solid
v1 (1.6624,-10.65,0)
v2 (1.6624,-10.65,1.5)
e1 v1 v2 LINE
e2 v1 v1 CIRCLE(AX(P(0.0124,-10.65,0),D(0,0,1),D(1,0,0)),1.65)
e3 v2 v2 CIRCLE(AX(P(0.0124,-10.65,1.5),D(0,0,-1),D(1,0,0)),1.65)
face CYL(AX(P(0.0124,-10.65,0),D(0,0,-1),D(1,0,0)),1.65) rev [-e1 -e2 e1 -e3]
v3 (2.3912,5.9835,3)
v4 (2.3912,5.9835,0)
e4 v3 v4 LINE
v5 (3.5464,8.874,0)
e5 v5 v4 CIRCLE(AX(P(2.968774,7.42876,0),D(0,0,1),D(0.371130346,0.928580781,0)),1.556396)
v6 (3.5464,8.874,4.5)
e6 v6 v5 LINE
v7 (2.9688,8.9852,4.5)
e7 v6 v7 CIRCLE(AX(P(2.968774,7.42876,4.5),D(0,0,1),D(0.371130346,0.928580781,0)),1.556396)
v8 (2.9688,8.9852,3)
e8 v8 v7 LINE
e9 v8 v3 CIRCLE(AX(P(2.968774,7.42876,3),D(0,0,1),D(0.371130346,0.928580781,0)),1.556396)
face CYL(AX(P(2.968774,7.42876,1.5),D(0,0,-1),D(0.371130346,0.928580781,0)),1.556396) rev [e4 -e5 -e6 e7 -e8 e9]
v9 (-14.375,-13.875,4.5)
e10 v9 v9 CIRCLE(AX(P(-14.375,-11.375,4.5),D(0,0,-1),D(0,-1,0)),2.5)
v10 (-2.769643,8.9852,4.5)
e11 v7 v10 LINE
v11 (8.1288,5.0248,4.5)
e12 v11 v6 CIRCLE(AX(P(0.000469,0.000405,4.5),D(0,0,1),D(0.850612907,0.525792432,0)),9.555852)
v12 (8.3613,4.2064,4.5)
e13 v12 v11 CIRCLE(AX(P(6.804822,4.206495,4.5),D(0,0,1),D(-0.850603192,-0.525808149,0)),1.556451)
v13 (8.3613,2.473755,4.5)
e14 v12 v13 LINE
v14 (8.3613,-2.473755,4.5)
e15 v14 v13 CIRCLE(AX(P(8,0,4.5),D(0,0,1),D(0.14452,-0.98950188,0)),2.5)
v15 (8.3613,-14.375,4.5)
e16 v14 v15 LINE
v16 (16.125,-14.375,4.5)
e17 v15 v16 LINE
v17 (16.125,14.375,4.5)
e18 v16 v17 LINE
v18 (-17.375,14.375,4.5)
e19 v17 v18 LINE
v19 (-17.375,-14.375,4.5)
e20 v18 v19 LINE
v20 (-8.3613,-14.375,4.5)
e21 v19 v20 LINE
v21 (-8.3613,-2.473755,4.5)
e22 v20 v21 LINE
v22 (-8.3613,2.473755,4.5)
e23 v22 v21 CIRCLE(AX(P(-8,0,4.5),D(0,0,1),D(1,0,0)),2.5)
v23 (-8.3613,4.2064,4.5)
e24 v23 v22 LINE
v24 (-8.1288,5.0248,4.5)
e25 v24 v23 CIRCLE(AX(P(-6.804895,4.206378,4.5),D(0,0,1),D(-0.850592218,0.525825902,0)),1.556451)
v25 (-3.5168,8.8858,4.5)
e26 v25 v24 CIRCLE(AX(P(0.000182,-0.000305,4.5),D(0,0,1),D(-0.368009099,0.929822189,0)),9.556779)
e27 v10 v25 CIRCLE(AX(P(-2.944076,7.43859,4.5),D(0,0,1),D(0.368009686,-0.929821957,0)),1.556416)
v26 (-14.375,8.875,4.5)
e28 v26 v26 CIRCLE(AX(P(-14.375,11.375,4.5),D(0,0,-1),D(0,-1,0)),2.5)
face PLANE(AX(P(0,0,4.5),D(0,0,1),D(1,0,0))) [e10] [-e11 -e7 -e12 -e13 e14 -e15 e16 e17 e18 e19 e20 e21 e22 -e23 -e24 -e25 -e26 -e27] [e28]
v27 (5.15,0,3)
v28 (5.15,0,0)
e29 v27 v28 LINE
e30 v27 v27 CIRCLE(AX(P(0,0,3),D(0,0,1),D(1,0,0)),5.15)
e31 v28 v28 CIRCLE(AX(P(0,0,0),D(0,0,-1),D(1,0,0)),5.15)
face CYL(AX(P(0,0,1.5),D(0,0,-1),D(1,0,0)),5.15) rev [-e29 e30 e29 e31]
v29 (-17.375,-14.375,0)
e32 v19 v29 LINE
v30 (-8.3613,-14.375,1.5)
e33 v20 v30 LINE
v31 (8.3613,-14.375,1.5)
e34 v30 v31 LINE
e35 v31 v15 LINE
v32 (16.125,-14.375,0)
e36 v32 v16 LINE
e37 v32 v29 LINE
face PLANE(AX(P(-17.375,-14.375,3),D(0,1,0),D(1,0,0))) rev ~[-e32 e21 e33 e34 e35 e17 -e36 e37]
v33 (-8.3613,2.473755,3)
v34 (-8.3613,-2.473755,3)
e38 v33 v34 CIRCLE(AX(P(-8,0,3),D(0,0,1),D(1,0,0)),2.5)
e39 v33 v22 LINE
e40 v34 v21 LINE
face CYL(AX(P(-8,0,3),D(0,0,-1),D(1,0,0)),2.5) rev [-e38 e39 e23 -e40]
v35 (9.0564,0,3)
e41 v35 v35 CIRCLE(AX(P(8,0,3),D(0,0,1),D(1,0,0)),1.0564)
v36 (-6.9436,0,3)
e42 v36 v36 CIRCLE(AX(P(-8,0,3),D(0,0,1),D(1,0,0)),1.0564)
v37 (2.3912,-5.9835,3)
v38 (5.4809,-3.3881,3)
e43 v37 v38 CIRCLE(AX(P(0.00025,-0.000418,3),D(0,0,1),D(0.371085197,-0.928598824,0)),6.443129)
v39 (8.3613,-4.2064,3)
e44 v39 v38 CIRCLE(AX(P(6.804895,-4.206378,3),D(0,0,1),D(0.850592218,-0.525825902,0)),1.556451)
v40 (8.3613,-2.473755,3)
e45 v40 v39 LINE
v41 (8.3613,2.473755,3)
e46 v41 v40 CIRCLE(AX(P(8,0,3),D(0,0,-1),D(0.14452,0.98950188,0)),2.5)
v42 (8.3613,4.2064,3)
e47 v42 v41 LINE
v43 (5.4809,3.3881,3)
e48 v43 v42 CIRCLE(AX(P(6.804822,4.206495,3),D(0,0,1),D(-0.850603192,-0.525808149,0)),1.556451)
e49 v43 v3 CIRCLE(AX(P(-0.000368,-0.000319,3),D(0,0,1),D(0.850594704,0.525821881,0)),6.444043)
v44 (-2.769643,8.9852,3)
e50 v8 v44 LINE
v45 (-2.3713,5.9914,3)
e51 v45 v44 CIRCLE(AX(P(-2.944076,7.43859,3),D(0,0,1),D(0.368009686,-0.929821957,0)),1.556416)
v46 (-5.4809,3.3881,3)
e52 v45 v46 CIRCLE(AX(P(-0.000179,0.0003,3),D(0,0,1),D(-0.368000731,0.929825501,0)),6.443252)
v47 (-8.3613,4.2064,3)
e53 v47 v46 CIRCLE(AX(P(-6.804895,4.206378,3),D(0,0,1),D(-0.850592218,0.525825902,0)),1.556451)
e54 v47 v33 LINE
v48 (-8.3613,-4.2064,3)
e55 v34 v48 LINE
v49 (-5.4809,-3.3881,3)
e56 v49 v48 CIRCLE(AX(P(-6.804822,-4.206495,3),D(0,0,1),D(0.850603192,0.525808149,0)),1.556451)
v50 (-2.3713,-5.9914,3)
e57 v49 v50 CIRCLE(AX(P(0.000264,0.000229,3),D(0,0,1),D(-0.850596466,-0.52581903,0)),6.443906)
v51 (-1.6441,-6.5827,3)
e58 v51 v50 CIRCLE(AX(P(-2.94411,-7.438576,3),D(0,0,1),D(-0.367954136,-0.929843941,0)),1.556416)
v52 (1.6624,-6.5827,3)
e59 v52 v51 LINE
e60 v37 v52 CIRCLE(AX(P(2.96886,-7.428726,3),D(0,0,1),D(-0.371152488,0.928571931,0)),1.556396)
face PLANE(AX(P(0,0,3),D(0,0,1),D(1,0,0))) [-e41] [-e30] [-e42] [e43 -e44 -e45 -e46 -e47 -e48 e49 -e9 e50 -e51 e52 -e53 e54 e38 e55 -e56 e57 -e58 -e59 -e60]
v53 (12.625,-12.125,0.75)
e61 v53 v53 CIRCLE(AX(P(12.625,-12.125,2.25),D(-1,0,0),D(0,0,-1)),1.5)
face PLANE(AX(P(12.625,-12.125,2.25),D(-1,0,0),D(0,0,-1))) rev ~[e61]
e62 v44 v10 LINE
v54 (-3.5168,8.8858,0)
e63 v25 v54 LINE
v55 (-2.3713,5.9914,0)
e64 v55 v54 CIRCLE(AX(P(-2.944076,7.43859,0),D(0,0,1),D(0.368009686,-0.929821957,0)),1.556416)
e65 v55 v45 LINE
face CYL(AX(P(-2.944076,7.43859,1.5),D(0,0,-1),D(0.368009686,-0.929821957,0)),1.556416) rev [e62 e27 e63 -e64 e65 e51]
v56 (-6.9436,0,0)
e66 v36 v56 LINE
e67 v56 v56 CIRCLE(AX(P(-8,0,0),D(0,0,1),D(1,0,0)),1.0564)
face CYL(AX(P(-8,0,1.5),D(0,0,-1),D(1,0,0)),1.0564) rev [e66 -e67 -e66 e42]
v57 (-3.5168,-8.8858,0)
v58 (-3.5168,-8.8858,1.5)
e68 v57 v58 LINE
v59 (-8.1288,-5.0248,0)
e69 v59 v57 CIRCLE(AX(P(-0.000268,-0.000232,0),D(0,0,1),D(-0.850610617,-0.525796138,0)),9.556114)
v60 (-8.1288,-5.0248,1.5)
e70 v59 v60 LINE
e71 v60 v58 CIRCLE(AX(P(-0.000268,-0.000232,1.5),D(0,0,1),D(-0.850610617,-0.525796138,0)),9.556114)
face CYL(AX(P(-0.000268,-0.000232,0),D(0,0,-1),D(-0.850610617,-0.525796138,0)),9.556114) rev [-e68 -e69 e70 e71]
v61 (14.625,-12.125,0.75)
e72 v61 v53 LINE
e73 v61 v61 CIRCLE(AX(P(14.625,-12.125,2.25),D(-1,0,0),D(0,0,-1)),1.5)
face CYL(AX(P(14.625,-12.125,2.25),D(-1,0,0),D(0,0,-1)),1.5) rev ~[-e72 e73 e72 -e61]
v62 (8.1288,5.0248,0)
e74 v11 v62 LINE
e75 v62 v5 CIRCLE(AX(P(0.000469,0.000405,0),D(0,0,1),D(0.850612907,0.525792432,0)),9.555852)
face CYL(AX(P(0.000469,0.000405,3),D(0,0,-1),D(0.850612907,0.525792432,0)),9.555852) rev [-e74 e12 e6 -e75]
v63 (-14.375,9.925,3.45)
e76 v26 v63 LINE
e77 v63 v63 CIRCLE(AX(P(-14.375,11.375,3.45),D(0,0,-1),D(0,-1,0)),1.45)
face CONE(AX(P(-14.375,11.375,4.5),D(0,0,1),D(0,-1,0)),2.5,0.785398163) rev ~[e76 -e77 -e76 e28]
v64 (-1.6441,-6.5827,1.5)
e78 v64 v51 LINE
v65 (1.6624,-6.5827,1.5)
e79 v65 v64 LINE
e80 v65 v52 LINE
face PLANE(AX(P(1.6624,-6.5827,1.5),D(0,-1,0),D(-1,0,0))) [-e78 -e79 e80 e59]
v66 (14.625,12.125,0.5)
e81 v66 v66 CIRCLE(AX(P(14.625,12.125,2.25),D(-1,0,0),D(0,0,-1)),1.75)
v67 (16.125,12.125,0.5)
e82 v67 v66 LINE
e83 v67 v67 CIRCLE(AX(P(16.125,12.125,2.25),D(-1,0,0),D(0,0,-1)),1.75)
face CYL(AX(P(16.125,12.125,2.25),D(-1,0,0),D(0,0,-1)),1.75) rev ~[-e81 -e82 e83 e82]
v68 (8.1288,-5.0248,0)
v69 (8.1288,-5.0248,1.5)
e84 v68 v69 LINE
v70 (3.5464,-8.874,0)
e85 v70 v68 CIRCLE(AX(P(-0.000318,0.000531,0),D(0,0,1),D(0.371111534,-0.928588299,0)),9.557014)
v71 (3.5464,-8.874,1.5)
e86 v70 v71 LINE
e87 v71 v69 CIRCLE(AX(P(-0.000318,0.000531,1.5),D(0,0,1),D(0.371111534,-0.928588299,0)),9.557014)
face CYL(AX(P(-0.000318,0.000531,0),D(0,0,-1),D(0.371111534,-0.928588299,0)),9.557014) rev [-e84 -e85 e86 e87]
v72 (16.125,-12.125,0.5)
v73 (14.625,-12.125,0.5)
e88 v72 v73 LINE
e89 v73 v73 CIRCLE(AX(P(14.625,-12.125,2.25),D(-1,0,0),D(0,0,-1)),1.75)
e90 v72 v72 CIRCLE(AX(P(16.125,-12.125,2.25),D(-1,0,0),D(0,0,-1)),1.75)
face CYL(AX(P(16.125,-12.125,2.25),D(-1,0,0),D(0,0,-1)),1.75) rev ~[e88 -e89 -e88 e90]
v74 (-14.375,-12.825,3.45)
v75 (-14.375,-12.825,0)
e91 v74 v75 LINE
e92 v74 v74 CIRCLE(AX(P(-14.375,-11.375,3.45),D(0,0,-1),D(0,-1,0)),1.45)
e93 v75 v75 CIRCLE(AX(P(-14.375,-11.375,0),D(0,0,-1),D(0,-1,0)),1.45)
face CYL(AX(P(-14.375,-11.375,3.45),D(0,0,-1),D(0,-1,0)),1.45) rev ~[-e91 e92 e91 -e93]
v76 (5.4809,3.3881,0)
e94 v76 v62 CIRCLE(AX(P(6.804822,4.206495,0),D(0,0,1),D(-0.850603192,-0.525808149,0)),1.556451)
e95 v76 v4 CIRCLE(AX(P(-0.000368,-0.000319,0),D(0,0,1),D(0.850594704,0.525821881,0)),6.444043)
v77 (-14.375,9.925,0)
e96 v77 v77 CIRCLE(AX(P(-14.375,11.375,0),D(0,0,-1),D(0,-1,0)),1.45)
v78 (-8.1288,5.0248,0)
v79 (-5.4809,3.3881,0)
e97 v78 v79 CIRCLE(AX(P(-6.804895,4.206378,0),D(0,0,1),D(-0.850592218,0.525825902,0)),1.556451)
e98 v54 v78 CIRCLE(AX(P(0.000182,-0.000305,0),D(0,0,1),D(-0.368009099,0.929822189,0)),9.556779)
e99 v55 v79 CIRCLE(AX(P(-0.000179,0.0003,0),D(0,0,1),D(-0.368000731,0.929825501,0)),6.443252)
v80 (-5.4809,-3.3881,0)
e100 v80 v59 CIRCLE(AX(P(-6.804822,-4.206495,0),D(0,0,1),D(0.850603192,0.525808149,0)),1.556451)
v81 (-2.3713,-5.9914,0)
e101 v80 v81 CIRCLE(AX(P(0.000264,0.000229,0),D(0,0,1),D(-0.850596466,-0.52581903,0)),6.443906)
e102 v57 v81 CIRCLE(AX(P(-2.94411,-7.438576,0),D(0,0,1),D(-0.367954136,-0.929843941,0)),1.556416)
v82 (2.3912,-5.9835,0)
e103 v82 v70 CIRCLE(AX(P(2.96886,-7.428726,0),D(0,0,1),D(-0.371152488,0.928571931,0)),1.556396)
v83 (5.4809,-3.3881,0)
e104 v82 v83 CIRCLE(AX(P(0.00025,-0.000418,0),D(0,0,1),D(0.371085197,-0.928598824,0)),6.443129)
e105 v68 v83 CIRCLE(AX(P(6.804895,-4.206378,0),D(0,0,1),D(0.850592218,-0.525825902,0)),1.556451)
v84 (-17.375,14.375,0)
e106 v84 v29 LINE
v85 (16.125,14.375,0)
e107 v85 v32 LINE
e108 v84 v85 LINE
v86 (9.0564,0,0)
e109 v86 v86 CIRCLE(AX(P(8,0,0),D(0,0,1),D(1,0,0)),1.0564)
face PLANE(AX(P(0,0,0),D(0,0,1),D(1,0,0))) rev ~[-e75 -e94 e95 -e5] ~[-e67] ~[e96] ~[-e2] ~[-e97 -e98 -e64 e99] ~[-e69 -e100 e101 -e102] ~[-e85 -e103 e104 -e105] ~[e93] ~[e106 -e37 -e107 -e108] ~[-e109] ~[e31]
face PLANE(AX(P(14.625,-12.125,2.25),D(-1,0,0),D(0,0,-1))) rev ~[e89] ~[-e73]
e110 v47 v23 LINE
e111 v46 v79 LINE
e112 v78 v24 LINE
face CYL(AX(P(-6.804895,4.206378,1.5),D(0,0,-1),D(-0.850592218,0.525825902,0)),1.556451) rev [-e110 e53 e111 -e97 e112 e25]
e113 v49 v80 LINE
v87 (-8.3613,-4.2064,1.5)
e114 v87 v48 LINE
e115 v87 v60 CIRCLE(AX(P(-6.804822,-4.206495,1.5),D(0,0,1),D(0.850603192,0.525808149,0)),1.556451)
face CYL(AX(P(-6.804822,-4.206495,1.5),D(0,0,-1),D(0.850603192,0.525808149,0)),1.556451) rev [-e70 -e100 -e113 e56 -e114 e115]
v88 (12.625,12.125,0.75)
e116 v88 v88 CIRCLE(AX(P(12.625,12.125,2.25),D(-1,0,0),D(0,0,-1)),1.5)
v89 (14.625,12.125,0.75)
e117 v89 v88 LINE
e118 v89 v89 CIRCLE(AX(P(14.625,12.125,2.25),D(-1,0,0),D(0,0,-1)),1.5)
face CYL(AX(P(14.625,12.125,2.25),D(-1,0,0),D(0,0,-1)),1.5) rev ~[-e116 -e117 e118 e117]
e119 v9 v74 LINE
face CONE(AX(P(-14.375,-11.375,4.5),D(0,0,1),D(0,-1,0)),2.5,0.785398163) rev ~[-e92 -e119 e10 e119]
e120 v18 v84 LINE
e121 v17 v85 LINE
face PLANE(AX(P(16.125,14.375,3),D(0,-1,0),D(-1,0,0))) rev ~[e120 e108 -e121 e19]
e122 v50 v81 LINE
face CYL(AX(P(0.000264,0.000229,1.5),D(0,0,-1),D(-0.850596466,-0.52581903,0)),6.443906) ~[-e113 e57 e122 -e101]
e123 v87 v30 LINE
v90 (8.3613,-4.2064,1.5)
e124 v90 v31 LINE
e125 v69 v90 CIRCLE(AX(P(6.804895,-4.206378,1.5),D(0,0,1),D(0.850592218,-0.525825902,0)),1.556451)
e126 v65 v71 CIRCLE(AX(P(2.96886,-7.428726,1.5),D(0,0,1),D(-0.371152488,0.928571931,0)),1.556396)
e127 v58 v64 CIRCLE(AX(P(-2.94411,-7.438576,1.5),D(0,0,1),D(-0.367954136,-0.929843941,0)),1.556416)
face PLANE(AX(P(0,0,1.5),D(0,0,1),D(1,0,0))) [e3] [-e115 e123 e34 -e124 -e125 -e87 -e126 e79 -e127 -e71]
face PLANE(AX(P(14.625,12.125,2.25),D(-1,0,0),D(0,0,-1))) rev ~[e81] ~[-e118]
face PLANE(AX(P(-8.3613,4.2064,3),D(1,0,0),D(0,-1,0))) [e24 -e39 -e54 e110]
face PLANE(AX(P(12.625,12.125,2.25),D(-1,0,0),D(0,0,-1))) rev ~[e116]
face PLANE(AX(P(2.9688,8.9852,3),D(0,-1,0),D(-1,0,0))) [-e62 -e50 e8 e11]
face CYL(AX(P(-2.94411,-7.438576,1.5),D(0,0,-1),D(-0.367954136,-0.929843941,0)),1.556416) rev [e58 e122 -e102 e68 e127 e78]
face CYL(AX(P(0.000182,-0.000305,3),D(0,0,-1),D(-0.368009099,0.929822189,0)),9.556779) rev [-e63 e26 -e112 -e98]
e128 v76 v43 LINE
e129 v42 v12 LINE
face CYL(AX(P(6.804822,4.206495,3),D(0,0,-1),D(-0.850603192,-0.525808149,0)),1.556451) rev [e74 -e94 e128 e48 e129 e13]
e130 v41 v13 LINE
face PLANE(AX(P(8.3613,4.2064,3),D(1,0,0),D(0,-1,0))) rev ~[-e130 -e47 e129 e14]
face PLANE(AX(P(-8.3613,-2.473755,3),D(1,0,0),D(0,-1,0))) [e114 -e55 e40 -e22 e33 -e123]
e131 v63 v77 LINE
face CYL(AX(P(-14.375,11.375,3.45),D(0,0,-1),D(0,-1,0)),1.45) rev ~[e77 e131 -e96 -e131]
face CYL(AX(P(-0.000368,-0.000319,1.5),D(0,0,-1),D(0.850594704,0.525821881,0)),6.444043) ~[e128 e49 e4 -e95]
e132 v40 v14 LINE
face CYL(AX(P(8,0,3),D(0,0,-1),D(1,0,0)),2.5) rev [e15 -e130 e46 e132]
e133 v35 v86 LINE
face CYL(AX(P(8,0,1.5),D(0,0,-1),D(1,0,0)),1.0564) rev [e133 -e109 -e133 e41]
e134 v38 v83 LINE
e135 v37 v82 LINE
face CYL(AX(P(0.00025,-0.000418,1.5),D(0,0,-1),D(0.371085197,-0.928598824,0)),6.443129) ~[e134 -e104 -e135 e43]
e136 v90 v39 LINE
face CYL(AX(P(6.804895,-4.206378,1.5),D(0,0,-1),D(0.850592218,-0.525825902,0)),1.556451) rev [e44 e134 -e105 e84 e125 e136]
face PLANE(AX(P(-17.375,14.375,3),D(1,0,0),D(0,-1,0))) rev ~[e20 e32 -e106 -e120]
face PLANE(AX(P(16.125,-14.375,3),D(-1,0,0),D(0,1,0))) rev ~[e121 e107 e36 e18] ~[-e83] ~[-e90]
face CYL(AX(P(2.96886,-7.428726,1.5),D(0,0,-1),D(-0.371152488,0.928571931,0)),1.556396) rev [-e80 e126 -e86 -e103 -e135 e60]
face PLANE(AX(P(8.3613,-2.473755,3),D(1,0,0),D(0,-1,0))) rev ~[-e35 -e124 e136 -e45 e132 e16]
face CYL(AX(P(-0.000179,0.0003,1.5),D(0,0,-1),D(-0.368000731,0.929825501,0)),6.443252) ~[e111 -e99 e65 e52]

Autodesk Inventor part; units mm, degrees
ref_plane "YZ Plane" through (0, 0, 0) normal (1, 0, 0) x (0, 1, 0)
ref_plane "XZ Plane" through (0, 0, 0) normal (0, 1, 0) x (-1, 0, 0)
ref_plane "XY Plane" through (0, 0, 0) normal (0, 0, 1) x (1, 0, 0)
ref_plane "Work Plane1" through (0, 0, 0) normal (0, 0, 1) x (1, 0, 0)
sketch "Sketch1" plane through (0, 0, 0) normal (0, 0, 1) x (1, 0, 0)
  arc A0 (5.9062, 3.651) -> (7.7035, 4.7619) centre (6.8048, 4.2064) ccw projected
  arc A1 (5.9062, 3.651) -> (2.5768, 6.4477) centre (0, 0) ccw projected
  arc A2 (3.3608, 8.4097) -> (2.5768, 6.4477) centre (2.9688, 7.4287) ccw projected
  arc A3 (7.7035, 4.7619) -> (3.3608, 8.4097) centre (0, 0) ccw projected
  arc A4 (2.5768, -6.4477) -> (3.3608, -8.4097) centre (2.9688, -7.4287) ccw projected
  arc A5 (2.5768, -6.4477) -> (5.9062, -3.651) centre (0, 0) ccw projected
  arc A6 (7.7035, -4.7619) -> (5.9062, -3.651) centre (6.8048, -4.2064) ccw projected
  arc A7 (3.3608, -8.4097) -> (7.7035, -4.7619) centre (0, 0) ccw projected
  arc A8 (-2.5553, 6.4563) -> (-3.3328, 8.4209) centre (-2.9441, 7.4386) ccw projected
  arc A9 (-2.5553, 6.4563) -> (-5.9062, 3.651) centre (0, 0) ccw projected
  arc A10 (-7.7035, 4.7619) -> (-5.9062, 3.651) centre (-6.8048, 4.2064) ccw projected
  arc A11 (-3.3328, 8.4209) -> (-7.7035, 4.7619) centre (0, 0) ccw projected
  arc A12 (-5.9062, -3.651) -> (-7.7035, -4.7619) centre (-6.8048, -4.2064) ccw projected
  arc A13 (-5.9062, -3.651) -> (-2.5553, -6.4563) centre (0, 0) ccw projected
  arc A14 (-3.3328, -8.4209) -> (-2.5553, -6.4563) centre (-2.9441, -7.4386) ccw projected
  arc A15 (-7.7035, -4.7619) -> (-3.3328, -8.4209) centre (0, 0) ccw projected
  circle A16 centre (0.0124, -10.65) radius 1.15 projected
  circle A17 centre (8, 0) radius 1.0564 projected
  circle A18 centre (-8, 0) radius 1.0564 projected
  circle A19 centre (0, 0) radius 5 projected
  circle A20 centre (0, 0) radius 13.7 projected
  line L0 (0, 14.375) -> (-17.375, 14.375) projected
  line L1 (-17.375, 14.375) -> (-17.375, -14.375) projected
  line L2 (-17.375, -14.375) -> (0, -14.375) projected
  circle A21 centre (0, 0) radius 5.15
  arc A22 (5.4809, 3.3881) -> (8.1288, 5.0248) centre (6.8048, 4.2064) ccw
  arc A23 (5.4809, 3.3881) -> (2.3912, 5.9835) centre (0, 0) ccw
  arc A24 (3.5464, 8.874) -> (2.3912, 5.9835) centre (2.9688, 7.4287) ccw
  arc A25 (8.1288, 5.0248) -> (3.5464, 8.874) centre (0, 0) ccw
  arc A26 (8.1288, -5.0248) -> (5.4809, -3.3881) centre (6.8048, -4.2064) ccw
  arc A27 (2.3912, -5.9835) -> (5.4809, -3.3881) centre (0, 0) ccw
  arc A28 (2.3912, -5.9835) -> (3.5464, -8.874) centre (2.9688, -7.4287) ccw
  arc A29 (3.5464, -8.874) -> (8.1288, -5.0248) centre (0, 0) ccw
  circle A30 centre (0.0124, -10.65) radius 1.65
  arc A31 (-5.4809, -3.3881) -> (-2.3713, -5.9914) centre (0, 0) ccw
  arc A32 (-5.4809, -3.3881) -> (-8.1288, -5.0248) centre (-6.8048, -4.2064) ccw
  arc A33 (-8.1288, -5.0248) -> (-3.5168, -8.8858) centre (0, 0) ccw
  arc A34 (-3.5168, -8.8858) -> (-2.3713, -5.9914) centre (-2.9441, -7.4386) ccw
  arc A35 (-2.3713, 5.9914) -> (-5.4809, 3.3881) centre (0, 0) ccw
  arc A36 (-2.3713, 5.9914) -> (-3.5168, 8.8858) centre (-2.9441, 7.4386) ccw
  arc A37 (-3.5168, 8.8858) -> (-8.1288, 5.0248) centre (0, 0) ccw
  arc A38 (-8.1288, 5.0248) -> (-5.4809, 3.3881) centre (-6.8048, 4.2064) ccw
  circle A39 centre (-14.375, -11.375) radius 1.75 projected
  circle A40 centre (-14.375, 11.375) radius 1.75 projected
  arc A41 (0, 13.7) -> (0, -13.7) centre (0, 0) ccw projected
  line L3 (0, -14.375) -> (0, -13.7) projected
  line L4 (0, 13.7) -> (0, 14.375) projected
  line L5 (16.125, 8.6145) -> (16.125, -8.7895) projected
  line L6 (0, -14.375) -> (16.125, -14.375)
  line L7 (16.125, -14.375) -> (16.125, 14.375)
  line L8 (16.125, 14.375) -> (0, 14.375)
  line L9 (0, 14.375) -> (0, -14.375)
  point P0 (0, 0)
  dimension "d0" = 0.15
  dimension "d1" = 0.5
  dimension "d2" = 0.5
  dimension "d3" = 0.5
  dimension "d4" = 0.5
  dimension "d5" = 0.5
extrude "Extrusion1" add sketch "Sketch1" along normal blind 1.5 contours L9 A21 A20 A30 | A30 L9 A20 A21 | L3 L2 L1 L0 L4 A20 | A20 L4 L8 L7 L5 L6 L3 | A39 | A40
sketch "Sketch2" plane through (0, 0, 1.5) normal (0, 0, 1) x (1, 0, 0)
  line L0 (-17.375, 14.375) -> (-17.375, -14.375) projected
  line L1 (-17.375, -14.375) -> (16.125, -14.375) projected
  line L2 (16.125, -14.375) -> (16.125, 14.375) projected
  line L3 (16.125, 14.375) -> (-17.375, 14.375) projected
  circle A0 centre (8, 0) radius 1.0564 projected
  circle A1 centre (-8, 0) radius 1.0564 projected
  circle A2 centre (0, 0) radius 5.15 projected
  arc A3 (5.4809, 3.3881) -> (2.3912, 5.9835) centre (0, 0) ccw projected
  arc A4 (3.5464, 8.874) -> (2.3912, 5.9835) centre (2.9688, 7.4287) ccw projected
  arc A5 (8.1288, 5.0248) -> (3.5464, 8.874) centre (0, 0) ccw projected
  arc A6 (5.4809, 3.3881) -> (8.1288, 5.0248) centre (6.8048, 4.2064) ccw projected
  arc A7 (2.3912, -5.9835) -> (5.4809, -3.3881) centre (0, 0) ccw projected
  arc A8 (8.1288, -5.0248) -> (5.4809, -3.3881) centre (6.8048, -4.2064) ccw projected
  arc A9 (3.5464, -8.874) -> (8.1288, -5.0248) centre (0, 0) ccw projected
  arc A10 (2.3912, -5.9835) -> (3.5464, -8.874) centre (2.9688, -7.4287) ccw projected
  circle A11 centre (0.0124, -10.65) radius 1.65 projected
  arc A12 (-5.4809, -3.3881) -> (-8.1288, -5.0248) centre (-6.8048, -4.2064) ccw projected
  arc A13 (-5.4809, -3.3881) -> (-2.3713, -5.9914) centre (0, 0) ccw projected
  arc A14 (-3.5168, -8.8858) -> (-2.3713, -5.9914) centre (-2.9441, -7.4386) ccw projected
  arc A15 (-8.1288, -5.0248) -> (-3.5168, -8.8858) centre (0, 0) ccw projected
  arc A16 (-2.3713, 5.9914) -> (-3.5168, 8.8858) centre (-2.9441, 7.4386) ccw projected
  arc A17 (-2.3713, 5.9914) -> (-5.4809, 3.3881) centre (0, 0) ccw projected
  arc A18 (-8.1288, 5.0248) -> (-5.4809, 3.3881) centre (-6.8048, 4.2064) ccw projected
  arc A19 (-3.5168, 8.8858) -> (-8.1288, 5.0248) centre (0, 0) ccw projected
  arc A20 (8.1288, -5.0248) -> (5.4809, -3.3881) centre (6.8048, -4.2064) ccw projected
  line L4 (8.3613, -4.2064) -> (8.3613, -14.375)
  line L5 (-17.375, -14.375) -> (16.125, -14.375) projected
  arc A21 (-5.4809, -3.3881) -> (-8.1288, -5.0248) centre (-6.8048, -4.2064) ccw projected
  line L6 (-8.3613, -4.2064) -> (-8.3613, -14.375)
  arc A22 (2.3912, -5.9835) -> (3.5464, -8.874) centre (2.9688, -7.4287) ccw projected
  line L7 (1.6624, -6.5827) -> (-1.6441, -6.5827)
  arc A23 (-3.5168, -8.8858) -> (-2.3713, -5.9914) centre (-2.9441, -7.4386) ccw projected
  point P0 (0, 0)
extrude "Extrusion2" add sketch "Sketch2" along normal blind 1.5 contours L3 L2 L1 L4 A8 A7 A10 L7 A14 A13 A12 L6 L0
sketch "Sketch3" plane through (0, 0, 3) normal (0, 0, 1) x (1, 0, 0)
  circle A0 centre (0, 0) radius 6.75 projected
  line L0 (-17.375, -14.375) -> (-8.3613, -14.375) projected
  line L1 (-8.3613, -14.375) -> (-8.3613, -4.2064) projected
  arc A1 (-5.4809, -3.3881) -> (-8.3613, -4.2064) centre (-6.8048, -4.2064) ccw projected
  arc A2 (-5.4809, -3.3881) -> (-2.3713, -5.9914) centre (0, 0) ccw projected
  arc A3 (-1.6441, -6.5827) -> (-2.3713, -5.9914) centre (-2.9441, -7.4386) ccw projected
  line L2 (-1.6441, -6.5827) -> (1.6624, -6.5827) projected
  arc A4 (2.3912, -5.9835) -> (1.6624, -6.5827) centre (2.9688, -7.4287) ccw projected
  arc A5 (2.3912, -5.9835) -> (5.4809, -3.3881) centre (0, 0) ccw projected
  arc A6 (8.3613, -4.2064) -> (5.4809, -3.3881) centre (6.8048, -4.2064) ccw projected
  line L3 (8.3613, -4.2064) -> (8.3613, -14.375) projected
  line L4 (8.3613, -14.375) -> (16.125, -14.375) projected
  line L5 (16.125, -14.375) -> (16.125, 14.375) projected
  line L6 (16.125, 14.375) -> (-17.375, 14.375) projected
  line L7 (-17.375, 14.375) -> (-17.375, -14.375) projected
  circle A7 centre (8, 0) radius 1.0564 projected
  circle A8 centre (-8, 0) radius 1.0564 projected
  arc A9 (-2.3713, 5.9914) -> (-5.4809, 3.3881) centre (0, 0) ccw projected
  arc A10 (-8.1288, 5.0248) -> (-5.4809, 3.3881) centre (-6.8048, 4.2064) ccw projected
  arc A11 (-3.5168, 8.8858) -> (-8.1288, 5.0248) centre (0, 0) ccw projected
  arc A12 (-2.3713, 5.9914) -> (-3.5168, 8.8858) centre (-2.9441, 7.4386) ccw projected
  arc A13 (5.4809, 3.3881) -> (8.1288, 5.0248) centre (6.8048, 4.2064) ccw projected
  arc A14 (5.4809, 3.3881) -> (2.3912, 5.9835) centre (0, 0) ccw projected
  arc A15 (3.5464, 8.874) -> (2.3912, 5.9835) centre (2.9688, 7.4287) ccw projected
  arc A16 (8.1288, 5.0248) -> (3.5464, 8.874) centre (0, 0) ccw projected
  circle A17 centre (0, 0) radius 5.15 projected
  circle A18 centre (8, 0) radius 2.5
  circle A19 centre (-8, 0) radius 2.5
  line L8 (2.9688, 8.9852) -> (-2.9441, 8.9852)
  line L9 (2.9688, 8.9852) -> (8.8817, 8.9852) construction
  arc A20 (-8.1288, 5.0248) -> (-5.4809, 3.3881) centre (-6.8048, 4.2064) ccw projected
  line L10 (-8.3613, 4.2064) -> (-8.3613, -4.2064)
  arc A21 (-5.4809, -3.3881) -> (-8.1288, -5.0248) centre (-6.8048, -4.2064) ccw projected
  arc A22 (5.4809, 3.3881) -> (8.1288, 5.0248) centre (6.8048, 4.2064) ccw projected
  line L11 (8.3613, 4.2064) -> (8.3613, -4.2064)
  point P0 (0, 0)
  point P1 (-8.3613, -2.4738)
  point P2 (-8.3613, 2.4738)
  point P3 (-2.7693, 8.9852)
  point P4 (8.3613, 2.4738)
  point P5 (8.3613, -2.4738)
  dimension "d10" = 5
  dimension "d11" = 5
  dimension "d12" = 180
extrude "Extrusion3" add sketch "Sketch3" along normal blind 1.5 contours L11 A13 A16 A15 L8 A12 A11 A10 L10 A19 L1 L0 L7 L6 L5 L4 L3 A18
sketch "Sketch4" plane through (0, 0, 4.5) normal (0, 0, 1) x (1, 0, 0)
  line L0 (16.125, -14.375) -> (16.125, 14.375) projected
  line L1 (-17.375, -14.375) -> (16.125, -14.375) projected
  line L2 (16.125, 14.375) -> (12.625, 14.375)
  line L3 (12.625, -14.375) -> (16.125, -14.375)
  line L4 (16.125, -14.375) -> (16.125, 14.375)
  circle A0 centre (13.125, 11.375) radius 3
  circle A1 centre (13.125, -11.375) radius 3
  circle A2 centre (-14.375, -11.375) radius 3
  circle A3 centre (-14.375, 11.375) radius 3
  line L5 (-8.3613, -14.375) -> (-8.3613, -2.4738) projected
  arc A4 (-8.3613, 2.4738) -> (-8.3613, -2.4738) centre (-8, 0) ccw projected
  line L6 (-8.3613, 2.4738) -> (-8.3613, 4.2064) projected
  arc A5 (-8.1288, 5.0248) -> (-8.3613, 4.2064) centre (-6.8048, 4.2064) ccw projected
  arc A6 (-3.5168, 8.8858) -> (-8.1288, 5.0248) centre (0, 0) ccw projected
  arc A7 (-2.7693, 8.9852) -> (-3.5168, 8.8858) centre (-2.9441, 7.4386) ccw projected
  line L7 (-2.7693, 8.9852) -> (2.9688, 8.9852) projected
  arc A8 (3.5464, 8.874) -> (2.9688, 8.9852) centre (2.9688, 7.4287) ccw projected
  arc A9 (8.1288, 5.0248) -> (3.5464, 8.874) centre (0, 0) ccw projected
  arc A10 (8.3613, 4.2064) -> (8.1288, 5.0248) centre (6.8048, 4.2064) ccw projected
  line L8 (8.3613, 4.2064) -> (8.3613, 2.4738) projected
  arc A11 (8.3613, -2.4738) -> (8.3613, 2.4738) centre (8, 0) ccw projected
  line L9 (8.3613, -2.4738) -> (8.3613, -14.375) projected
  line L10 (8.3613, -14.375) -> (16.125, -14.375) projected
  line L11 (16.125, -14.375) -> (16.125, 14.375) projected
  line L12 (16.125, 14.375) -> (-17.375, 14.375) projected
  line L13 (-17.375, 14.375) -> (-17.375, -14.375) projected
  line L14 (-17.375, -14.375) -> (-8.3613, -14.375) projected
  point P0 (0, 0)
  dimension "d16" = 6
  dimension "d17" = 6
  dimension "d18" = 6
  dimension "d19" = 6
hole "Hole1" at (-14.375, -11.375, 4.5) at (-14.375, 11.375, 4.5) direction (0, 0, -1) diameter 2.9 end through all countersink diameter 5 countersink angle 90 clearance for "Countersunk Flat Head Screw ISO 2009/7046" size "M2.5" standard "ISO"
sketch "Sketch6" plane through (16.125, -14.375, 0) normal (1, 0, 0) x (0, 0, -1)
  line L0 (0, 0) -> (0, 28.75) projected
  line L1 (0, 28.75) -> (-4.5, 28.75) projected
  line L2 (-4.5, 0) -> (-4.5, 28.75) projected
  line L3 (0, 0) -> (-4.5, 0) projected
  line L4 (0, 28.75) -> (-4.5, 28.75)
  line L5 (-4.5, 28.75) -> (-4.5, 24.25)
  line L6 (-4.5, 24.25) -> (0, 24.25)
  line L7 (0, 24.25) -> (0, 28.75)
  line L8 (0, 0) -> (-4.5, 0)
  line L9 (-4.5, 0) -> (-4.5, 4.5)
  line L10 (-4.5, 4.5) -> (0, 4.5)
  line L11 (0, 4.5) -> (0, 0)
  line L12 (-4.5, 24.25) -> (0, 28.75)
  line L13 (-4.5, 28.75) -> (0, 24.25)
  line L14 (0, 0) -> (-4.5, 0) projected
  line L15 (0, 4.5) -> (-4.5, 0)
  line L16 (0, 0) -> (-4.5, 4.5)
  point P0 (0, 14.375)
  point P1 (-2.25, 26.5)
  point P2 (-2.25, 2.25)
  dimension "d34" = 4.5
  dimension "d35" = 4.5
  dimension "d36" = 4.5
  dimension "d37" = 4.5
hole "Hole3" at (16.125, 12.125, 2.25) at (16.125, -12.125, 2.25) direction (-1, 0, 0) diameter 3 depth 3.5 counterbore diameter 3.5 counterbore depth 1.5
properties part number "right_motor_front_mount" material "Nylon 6/6"
